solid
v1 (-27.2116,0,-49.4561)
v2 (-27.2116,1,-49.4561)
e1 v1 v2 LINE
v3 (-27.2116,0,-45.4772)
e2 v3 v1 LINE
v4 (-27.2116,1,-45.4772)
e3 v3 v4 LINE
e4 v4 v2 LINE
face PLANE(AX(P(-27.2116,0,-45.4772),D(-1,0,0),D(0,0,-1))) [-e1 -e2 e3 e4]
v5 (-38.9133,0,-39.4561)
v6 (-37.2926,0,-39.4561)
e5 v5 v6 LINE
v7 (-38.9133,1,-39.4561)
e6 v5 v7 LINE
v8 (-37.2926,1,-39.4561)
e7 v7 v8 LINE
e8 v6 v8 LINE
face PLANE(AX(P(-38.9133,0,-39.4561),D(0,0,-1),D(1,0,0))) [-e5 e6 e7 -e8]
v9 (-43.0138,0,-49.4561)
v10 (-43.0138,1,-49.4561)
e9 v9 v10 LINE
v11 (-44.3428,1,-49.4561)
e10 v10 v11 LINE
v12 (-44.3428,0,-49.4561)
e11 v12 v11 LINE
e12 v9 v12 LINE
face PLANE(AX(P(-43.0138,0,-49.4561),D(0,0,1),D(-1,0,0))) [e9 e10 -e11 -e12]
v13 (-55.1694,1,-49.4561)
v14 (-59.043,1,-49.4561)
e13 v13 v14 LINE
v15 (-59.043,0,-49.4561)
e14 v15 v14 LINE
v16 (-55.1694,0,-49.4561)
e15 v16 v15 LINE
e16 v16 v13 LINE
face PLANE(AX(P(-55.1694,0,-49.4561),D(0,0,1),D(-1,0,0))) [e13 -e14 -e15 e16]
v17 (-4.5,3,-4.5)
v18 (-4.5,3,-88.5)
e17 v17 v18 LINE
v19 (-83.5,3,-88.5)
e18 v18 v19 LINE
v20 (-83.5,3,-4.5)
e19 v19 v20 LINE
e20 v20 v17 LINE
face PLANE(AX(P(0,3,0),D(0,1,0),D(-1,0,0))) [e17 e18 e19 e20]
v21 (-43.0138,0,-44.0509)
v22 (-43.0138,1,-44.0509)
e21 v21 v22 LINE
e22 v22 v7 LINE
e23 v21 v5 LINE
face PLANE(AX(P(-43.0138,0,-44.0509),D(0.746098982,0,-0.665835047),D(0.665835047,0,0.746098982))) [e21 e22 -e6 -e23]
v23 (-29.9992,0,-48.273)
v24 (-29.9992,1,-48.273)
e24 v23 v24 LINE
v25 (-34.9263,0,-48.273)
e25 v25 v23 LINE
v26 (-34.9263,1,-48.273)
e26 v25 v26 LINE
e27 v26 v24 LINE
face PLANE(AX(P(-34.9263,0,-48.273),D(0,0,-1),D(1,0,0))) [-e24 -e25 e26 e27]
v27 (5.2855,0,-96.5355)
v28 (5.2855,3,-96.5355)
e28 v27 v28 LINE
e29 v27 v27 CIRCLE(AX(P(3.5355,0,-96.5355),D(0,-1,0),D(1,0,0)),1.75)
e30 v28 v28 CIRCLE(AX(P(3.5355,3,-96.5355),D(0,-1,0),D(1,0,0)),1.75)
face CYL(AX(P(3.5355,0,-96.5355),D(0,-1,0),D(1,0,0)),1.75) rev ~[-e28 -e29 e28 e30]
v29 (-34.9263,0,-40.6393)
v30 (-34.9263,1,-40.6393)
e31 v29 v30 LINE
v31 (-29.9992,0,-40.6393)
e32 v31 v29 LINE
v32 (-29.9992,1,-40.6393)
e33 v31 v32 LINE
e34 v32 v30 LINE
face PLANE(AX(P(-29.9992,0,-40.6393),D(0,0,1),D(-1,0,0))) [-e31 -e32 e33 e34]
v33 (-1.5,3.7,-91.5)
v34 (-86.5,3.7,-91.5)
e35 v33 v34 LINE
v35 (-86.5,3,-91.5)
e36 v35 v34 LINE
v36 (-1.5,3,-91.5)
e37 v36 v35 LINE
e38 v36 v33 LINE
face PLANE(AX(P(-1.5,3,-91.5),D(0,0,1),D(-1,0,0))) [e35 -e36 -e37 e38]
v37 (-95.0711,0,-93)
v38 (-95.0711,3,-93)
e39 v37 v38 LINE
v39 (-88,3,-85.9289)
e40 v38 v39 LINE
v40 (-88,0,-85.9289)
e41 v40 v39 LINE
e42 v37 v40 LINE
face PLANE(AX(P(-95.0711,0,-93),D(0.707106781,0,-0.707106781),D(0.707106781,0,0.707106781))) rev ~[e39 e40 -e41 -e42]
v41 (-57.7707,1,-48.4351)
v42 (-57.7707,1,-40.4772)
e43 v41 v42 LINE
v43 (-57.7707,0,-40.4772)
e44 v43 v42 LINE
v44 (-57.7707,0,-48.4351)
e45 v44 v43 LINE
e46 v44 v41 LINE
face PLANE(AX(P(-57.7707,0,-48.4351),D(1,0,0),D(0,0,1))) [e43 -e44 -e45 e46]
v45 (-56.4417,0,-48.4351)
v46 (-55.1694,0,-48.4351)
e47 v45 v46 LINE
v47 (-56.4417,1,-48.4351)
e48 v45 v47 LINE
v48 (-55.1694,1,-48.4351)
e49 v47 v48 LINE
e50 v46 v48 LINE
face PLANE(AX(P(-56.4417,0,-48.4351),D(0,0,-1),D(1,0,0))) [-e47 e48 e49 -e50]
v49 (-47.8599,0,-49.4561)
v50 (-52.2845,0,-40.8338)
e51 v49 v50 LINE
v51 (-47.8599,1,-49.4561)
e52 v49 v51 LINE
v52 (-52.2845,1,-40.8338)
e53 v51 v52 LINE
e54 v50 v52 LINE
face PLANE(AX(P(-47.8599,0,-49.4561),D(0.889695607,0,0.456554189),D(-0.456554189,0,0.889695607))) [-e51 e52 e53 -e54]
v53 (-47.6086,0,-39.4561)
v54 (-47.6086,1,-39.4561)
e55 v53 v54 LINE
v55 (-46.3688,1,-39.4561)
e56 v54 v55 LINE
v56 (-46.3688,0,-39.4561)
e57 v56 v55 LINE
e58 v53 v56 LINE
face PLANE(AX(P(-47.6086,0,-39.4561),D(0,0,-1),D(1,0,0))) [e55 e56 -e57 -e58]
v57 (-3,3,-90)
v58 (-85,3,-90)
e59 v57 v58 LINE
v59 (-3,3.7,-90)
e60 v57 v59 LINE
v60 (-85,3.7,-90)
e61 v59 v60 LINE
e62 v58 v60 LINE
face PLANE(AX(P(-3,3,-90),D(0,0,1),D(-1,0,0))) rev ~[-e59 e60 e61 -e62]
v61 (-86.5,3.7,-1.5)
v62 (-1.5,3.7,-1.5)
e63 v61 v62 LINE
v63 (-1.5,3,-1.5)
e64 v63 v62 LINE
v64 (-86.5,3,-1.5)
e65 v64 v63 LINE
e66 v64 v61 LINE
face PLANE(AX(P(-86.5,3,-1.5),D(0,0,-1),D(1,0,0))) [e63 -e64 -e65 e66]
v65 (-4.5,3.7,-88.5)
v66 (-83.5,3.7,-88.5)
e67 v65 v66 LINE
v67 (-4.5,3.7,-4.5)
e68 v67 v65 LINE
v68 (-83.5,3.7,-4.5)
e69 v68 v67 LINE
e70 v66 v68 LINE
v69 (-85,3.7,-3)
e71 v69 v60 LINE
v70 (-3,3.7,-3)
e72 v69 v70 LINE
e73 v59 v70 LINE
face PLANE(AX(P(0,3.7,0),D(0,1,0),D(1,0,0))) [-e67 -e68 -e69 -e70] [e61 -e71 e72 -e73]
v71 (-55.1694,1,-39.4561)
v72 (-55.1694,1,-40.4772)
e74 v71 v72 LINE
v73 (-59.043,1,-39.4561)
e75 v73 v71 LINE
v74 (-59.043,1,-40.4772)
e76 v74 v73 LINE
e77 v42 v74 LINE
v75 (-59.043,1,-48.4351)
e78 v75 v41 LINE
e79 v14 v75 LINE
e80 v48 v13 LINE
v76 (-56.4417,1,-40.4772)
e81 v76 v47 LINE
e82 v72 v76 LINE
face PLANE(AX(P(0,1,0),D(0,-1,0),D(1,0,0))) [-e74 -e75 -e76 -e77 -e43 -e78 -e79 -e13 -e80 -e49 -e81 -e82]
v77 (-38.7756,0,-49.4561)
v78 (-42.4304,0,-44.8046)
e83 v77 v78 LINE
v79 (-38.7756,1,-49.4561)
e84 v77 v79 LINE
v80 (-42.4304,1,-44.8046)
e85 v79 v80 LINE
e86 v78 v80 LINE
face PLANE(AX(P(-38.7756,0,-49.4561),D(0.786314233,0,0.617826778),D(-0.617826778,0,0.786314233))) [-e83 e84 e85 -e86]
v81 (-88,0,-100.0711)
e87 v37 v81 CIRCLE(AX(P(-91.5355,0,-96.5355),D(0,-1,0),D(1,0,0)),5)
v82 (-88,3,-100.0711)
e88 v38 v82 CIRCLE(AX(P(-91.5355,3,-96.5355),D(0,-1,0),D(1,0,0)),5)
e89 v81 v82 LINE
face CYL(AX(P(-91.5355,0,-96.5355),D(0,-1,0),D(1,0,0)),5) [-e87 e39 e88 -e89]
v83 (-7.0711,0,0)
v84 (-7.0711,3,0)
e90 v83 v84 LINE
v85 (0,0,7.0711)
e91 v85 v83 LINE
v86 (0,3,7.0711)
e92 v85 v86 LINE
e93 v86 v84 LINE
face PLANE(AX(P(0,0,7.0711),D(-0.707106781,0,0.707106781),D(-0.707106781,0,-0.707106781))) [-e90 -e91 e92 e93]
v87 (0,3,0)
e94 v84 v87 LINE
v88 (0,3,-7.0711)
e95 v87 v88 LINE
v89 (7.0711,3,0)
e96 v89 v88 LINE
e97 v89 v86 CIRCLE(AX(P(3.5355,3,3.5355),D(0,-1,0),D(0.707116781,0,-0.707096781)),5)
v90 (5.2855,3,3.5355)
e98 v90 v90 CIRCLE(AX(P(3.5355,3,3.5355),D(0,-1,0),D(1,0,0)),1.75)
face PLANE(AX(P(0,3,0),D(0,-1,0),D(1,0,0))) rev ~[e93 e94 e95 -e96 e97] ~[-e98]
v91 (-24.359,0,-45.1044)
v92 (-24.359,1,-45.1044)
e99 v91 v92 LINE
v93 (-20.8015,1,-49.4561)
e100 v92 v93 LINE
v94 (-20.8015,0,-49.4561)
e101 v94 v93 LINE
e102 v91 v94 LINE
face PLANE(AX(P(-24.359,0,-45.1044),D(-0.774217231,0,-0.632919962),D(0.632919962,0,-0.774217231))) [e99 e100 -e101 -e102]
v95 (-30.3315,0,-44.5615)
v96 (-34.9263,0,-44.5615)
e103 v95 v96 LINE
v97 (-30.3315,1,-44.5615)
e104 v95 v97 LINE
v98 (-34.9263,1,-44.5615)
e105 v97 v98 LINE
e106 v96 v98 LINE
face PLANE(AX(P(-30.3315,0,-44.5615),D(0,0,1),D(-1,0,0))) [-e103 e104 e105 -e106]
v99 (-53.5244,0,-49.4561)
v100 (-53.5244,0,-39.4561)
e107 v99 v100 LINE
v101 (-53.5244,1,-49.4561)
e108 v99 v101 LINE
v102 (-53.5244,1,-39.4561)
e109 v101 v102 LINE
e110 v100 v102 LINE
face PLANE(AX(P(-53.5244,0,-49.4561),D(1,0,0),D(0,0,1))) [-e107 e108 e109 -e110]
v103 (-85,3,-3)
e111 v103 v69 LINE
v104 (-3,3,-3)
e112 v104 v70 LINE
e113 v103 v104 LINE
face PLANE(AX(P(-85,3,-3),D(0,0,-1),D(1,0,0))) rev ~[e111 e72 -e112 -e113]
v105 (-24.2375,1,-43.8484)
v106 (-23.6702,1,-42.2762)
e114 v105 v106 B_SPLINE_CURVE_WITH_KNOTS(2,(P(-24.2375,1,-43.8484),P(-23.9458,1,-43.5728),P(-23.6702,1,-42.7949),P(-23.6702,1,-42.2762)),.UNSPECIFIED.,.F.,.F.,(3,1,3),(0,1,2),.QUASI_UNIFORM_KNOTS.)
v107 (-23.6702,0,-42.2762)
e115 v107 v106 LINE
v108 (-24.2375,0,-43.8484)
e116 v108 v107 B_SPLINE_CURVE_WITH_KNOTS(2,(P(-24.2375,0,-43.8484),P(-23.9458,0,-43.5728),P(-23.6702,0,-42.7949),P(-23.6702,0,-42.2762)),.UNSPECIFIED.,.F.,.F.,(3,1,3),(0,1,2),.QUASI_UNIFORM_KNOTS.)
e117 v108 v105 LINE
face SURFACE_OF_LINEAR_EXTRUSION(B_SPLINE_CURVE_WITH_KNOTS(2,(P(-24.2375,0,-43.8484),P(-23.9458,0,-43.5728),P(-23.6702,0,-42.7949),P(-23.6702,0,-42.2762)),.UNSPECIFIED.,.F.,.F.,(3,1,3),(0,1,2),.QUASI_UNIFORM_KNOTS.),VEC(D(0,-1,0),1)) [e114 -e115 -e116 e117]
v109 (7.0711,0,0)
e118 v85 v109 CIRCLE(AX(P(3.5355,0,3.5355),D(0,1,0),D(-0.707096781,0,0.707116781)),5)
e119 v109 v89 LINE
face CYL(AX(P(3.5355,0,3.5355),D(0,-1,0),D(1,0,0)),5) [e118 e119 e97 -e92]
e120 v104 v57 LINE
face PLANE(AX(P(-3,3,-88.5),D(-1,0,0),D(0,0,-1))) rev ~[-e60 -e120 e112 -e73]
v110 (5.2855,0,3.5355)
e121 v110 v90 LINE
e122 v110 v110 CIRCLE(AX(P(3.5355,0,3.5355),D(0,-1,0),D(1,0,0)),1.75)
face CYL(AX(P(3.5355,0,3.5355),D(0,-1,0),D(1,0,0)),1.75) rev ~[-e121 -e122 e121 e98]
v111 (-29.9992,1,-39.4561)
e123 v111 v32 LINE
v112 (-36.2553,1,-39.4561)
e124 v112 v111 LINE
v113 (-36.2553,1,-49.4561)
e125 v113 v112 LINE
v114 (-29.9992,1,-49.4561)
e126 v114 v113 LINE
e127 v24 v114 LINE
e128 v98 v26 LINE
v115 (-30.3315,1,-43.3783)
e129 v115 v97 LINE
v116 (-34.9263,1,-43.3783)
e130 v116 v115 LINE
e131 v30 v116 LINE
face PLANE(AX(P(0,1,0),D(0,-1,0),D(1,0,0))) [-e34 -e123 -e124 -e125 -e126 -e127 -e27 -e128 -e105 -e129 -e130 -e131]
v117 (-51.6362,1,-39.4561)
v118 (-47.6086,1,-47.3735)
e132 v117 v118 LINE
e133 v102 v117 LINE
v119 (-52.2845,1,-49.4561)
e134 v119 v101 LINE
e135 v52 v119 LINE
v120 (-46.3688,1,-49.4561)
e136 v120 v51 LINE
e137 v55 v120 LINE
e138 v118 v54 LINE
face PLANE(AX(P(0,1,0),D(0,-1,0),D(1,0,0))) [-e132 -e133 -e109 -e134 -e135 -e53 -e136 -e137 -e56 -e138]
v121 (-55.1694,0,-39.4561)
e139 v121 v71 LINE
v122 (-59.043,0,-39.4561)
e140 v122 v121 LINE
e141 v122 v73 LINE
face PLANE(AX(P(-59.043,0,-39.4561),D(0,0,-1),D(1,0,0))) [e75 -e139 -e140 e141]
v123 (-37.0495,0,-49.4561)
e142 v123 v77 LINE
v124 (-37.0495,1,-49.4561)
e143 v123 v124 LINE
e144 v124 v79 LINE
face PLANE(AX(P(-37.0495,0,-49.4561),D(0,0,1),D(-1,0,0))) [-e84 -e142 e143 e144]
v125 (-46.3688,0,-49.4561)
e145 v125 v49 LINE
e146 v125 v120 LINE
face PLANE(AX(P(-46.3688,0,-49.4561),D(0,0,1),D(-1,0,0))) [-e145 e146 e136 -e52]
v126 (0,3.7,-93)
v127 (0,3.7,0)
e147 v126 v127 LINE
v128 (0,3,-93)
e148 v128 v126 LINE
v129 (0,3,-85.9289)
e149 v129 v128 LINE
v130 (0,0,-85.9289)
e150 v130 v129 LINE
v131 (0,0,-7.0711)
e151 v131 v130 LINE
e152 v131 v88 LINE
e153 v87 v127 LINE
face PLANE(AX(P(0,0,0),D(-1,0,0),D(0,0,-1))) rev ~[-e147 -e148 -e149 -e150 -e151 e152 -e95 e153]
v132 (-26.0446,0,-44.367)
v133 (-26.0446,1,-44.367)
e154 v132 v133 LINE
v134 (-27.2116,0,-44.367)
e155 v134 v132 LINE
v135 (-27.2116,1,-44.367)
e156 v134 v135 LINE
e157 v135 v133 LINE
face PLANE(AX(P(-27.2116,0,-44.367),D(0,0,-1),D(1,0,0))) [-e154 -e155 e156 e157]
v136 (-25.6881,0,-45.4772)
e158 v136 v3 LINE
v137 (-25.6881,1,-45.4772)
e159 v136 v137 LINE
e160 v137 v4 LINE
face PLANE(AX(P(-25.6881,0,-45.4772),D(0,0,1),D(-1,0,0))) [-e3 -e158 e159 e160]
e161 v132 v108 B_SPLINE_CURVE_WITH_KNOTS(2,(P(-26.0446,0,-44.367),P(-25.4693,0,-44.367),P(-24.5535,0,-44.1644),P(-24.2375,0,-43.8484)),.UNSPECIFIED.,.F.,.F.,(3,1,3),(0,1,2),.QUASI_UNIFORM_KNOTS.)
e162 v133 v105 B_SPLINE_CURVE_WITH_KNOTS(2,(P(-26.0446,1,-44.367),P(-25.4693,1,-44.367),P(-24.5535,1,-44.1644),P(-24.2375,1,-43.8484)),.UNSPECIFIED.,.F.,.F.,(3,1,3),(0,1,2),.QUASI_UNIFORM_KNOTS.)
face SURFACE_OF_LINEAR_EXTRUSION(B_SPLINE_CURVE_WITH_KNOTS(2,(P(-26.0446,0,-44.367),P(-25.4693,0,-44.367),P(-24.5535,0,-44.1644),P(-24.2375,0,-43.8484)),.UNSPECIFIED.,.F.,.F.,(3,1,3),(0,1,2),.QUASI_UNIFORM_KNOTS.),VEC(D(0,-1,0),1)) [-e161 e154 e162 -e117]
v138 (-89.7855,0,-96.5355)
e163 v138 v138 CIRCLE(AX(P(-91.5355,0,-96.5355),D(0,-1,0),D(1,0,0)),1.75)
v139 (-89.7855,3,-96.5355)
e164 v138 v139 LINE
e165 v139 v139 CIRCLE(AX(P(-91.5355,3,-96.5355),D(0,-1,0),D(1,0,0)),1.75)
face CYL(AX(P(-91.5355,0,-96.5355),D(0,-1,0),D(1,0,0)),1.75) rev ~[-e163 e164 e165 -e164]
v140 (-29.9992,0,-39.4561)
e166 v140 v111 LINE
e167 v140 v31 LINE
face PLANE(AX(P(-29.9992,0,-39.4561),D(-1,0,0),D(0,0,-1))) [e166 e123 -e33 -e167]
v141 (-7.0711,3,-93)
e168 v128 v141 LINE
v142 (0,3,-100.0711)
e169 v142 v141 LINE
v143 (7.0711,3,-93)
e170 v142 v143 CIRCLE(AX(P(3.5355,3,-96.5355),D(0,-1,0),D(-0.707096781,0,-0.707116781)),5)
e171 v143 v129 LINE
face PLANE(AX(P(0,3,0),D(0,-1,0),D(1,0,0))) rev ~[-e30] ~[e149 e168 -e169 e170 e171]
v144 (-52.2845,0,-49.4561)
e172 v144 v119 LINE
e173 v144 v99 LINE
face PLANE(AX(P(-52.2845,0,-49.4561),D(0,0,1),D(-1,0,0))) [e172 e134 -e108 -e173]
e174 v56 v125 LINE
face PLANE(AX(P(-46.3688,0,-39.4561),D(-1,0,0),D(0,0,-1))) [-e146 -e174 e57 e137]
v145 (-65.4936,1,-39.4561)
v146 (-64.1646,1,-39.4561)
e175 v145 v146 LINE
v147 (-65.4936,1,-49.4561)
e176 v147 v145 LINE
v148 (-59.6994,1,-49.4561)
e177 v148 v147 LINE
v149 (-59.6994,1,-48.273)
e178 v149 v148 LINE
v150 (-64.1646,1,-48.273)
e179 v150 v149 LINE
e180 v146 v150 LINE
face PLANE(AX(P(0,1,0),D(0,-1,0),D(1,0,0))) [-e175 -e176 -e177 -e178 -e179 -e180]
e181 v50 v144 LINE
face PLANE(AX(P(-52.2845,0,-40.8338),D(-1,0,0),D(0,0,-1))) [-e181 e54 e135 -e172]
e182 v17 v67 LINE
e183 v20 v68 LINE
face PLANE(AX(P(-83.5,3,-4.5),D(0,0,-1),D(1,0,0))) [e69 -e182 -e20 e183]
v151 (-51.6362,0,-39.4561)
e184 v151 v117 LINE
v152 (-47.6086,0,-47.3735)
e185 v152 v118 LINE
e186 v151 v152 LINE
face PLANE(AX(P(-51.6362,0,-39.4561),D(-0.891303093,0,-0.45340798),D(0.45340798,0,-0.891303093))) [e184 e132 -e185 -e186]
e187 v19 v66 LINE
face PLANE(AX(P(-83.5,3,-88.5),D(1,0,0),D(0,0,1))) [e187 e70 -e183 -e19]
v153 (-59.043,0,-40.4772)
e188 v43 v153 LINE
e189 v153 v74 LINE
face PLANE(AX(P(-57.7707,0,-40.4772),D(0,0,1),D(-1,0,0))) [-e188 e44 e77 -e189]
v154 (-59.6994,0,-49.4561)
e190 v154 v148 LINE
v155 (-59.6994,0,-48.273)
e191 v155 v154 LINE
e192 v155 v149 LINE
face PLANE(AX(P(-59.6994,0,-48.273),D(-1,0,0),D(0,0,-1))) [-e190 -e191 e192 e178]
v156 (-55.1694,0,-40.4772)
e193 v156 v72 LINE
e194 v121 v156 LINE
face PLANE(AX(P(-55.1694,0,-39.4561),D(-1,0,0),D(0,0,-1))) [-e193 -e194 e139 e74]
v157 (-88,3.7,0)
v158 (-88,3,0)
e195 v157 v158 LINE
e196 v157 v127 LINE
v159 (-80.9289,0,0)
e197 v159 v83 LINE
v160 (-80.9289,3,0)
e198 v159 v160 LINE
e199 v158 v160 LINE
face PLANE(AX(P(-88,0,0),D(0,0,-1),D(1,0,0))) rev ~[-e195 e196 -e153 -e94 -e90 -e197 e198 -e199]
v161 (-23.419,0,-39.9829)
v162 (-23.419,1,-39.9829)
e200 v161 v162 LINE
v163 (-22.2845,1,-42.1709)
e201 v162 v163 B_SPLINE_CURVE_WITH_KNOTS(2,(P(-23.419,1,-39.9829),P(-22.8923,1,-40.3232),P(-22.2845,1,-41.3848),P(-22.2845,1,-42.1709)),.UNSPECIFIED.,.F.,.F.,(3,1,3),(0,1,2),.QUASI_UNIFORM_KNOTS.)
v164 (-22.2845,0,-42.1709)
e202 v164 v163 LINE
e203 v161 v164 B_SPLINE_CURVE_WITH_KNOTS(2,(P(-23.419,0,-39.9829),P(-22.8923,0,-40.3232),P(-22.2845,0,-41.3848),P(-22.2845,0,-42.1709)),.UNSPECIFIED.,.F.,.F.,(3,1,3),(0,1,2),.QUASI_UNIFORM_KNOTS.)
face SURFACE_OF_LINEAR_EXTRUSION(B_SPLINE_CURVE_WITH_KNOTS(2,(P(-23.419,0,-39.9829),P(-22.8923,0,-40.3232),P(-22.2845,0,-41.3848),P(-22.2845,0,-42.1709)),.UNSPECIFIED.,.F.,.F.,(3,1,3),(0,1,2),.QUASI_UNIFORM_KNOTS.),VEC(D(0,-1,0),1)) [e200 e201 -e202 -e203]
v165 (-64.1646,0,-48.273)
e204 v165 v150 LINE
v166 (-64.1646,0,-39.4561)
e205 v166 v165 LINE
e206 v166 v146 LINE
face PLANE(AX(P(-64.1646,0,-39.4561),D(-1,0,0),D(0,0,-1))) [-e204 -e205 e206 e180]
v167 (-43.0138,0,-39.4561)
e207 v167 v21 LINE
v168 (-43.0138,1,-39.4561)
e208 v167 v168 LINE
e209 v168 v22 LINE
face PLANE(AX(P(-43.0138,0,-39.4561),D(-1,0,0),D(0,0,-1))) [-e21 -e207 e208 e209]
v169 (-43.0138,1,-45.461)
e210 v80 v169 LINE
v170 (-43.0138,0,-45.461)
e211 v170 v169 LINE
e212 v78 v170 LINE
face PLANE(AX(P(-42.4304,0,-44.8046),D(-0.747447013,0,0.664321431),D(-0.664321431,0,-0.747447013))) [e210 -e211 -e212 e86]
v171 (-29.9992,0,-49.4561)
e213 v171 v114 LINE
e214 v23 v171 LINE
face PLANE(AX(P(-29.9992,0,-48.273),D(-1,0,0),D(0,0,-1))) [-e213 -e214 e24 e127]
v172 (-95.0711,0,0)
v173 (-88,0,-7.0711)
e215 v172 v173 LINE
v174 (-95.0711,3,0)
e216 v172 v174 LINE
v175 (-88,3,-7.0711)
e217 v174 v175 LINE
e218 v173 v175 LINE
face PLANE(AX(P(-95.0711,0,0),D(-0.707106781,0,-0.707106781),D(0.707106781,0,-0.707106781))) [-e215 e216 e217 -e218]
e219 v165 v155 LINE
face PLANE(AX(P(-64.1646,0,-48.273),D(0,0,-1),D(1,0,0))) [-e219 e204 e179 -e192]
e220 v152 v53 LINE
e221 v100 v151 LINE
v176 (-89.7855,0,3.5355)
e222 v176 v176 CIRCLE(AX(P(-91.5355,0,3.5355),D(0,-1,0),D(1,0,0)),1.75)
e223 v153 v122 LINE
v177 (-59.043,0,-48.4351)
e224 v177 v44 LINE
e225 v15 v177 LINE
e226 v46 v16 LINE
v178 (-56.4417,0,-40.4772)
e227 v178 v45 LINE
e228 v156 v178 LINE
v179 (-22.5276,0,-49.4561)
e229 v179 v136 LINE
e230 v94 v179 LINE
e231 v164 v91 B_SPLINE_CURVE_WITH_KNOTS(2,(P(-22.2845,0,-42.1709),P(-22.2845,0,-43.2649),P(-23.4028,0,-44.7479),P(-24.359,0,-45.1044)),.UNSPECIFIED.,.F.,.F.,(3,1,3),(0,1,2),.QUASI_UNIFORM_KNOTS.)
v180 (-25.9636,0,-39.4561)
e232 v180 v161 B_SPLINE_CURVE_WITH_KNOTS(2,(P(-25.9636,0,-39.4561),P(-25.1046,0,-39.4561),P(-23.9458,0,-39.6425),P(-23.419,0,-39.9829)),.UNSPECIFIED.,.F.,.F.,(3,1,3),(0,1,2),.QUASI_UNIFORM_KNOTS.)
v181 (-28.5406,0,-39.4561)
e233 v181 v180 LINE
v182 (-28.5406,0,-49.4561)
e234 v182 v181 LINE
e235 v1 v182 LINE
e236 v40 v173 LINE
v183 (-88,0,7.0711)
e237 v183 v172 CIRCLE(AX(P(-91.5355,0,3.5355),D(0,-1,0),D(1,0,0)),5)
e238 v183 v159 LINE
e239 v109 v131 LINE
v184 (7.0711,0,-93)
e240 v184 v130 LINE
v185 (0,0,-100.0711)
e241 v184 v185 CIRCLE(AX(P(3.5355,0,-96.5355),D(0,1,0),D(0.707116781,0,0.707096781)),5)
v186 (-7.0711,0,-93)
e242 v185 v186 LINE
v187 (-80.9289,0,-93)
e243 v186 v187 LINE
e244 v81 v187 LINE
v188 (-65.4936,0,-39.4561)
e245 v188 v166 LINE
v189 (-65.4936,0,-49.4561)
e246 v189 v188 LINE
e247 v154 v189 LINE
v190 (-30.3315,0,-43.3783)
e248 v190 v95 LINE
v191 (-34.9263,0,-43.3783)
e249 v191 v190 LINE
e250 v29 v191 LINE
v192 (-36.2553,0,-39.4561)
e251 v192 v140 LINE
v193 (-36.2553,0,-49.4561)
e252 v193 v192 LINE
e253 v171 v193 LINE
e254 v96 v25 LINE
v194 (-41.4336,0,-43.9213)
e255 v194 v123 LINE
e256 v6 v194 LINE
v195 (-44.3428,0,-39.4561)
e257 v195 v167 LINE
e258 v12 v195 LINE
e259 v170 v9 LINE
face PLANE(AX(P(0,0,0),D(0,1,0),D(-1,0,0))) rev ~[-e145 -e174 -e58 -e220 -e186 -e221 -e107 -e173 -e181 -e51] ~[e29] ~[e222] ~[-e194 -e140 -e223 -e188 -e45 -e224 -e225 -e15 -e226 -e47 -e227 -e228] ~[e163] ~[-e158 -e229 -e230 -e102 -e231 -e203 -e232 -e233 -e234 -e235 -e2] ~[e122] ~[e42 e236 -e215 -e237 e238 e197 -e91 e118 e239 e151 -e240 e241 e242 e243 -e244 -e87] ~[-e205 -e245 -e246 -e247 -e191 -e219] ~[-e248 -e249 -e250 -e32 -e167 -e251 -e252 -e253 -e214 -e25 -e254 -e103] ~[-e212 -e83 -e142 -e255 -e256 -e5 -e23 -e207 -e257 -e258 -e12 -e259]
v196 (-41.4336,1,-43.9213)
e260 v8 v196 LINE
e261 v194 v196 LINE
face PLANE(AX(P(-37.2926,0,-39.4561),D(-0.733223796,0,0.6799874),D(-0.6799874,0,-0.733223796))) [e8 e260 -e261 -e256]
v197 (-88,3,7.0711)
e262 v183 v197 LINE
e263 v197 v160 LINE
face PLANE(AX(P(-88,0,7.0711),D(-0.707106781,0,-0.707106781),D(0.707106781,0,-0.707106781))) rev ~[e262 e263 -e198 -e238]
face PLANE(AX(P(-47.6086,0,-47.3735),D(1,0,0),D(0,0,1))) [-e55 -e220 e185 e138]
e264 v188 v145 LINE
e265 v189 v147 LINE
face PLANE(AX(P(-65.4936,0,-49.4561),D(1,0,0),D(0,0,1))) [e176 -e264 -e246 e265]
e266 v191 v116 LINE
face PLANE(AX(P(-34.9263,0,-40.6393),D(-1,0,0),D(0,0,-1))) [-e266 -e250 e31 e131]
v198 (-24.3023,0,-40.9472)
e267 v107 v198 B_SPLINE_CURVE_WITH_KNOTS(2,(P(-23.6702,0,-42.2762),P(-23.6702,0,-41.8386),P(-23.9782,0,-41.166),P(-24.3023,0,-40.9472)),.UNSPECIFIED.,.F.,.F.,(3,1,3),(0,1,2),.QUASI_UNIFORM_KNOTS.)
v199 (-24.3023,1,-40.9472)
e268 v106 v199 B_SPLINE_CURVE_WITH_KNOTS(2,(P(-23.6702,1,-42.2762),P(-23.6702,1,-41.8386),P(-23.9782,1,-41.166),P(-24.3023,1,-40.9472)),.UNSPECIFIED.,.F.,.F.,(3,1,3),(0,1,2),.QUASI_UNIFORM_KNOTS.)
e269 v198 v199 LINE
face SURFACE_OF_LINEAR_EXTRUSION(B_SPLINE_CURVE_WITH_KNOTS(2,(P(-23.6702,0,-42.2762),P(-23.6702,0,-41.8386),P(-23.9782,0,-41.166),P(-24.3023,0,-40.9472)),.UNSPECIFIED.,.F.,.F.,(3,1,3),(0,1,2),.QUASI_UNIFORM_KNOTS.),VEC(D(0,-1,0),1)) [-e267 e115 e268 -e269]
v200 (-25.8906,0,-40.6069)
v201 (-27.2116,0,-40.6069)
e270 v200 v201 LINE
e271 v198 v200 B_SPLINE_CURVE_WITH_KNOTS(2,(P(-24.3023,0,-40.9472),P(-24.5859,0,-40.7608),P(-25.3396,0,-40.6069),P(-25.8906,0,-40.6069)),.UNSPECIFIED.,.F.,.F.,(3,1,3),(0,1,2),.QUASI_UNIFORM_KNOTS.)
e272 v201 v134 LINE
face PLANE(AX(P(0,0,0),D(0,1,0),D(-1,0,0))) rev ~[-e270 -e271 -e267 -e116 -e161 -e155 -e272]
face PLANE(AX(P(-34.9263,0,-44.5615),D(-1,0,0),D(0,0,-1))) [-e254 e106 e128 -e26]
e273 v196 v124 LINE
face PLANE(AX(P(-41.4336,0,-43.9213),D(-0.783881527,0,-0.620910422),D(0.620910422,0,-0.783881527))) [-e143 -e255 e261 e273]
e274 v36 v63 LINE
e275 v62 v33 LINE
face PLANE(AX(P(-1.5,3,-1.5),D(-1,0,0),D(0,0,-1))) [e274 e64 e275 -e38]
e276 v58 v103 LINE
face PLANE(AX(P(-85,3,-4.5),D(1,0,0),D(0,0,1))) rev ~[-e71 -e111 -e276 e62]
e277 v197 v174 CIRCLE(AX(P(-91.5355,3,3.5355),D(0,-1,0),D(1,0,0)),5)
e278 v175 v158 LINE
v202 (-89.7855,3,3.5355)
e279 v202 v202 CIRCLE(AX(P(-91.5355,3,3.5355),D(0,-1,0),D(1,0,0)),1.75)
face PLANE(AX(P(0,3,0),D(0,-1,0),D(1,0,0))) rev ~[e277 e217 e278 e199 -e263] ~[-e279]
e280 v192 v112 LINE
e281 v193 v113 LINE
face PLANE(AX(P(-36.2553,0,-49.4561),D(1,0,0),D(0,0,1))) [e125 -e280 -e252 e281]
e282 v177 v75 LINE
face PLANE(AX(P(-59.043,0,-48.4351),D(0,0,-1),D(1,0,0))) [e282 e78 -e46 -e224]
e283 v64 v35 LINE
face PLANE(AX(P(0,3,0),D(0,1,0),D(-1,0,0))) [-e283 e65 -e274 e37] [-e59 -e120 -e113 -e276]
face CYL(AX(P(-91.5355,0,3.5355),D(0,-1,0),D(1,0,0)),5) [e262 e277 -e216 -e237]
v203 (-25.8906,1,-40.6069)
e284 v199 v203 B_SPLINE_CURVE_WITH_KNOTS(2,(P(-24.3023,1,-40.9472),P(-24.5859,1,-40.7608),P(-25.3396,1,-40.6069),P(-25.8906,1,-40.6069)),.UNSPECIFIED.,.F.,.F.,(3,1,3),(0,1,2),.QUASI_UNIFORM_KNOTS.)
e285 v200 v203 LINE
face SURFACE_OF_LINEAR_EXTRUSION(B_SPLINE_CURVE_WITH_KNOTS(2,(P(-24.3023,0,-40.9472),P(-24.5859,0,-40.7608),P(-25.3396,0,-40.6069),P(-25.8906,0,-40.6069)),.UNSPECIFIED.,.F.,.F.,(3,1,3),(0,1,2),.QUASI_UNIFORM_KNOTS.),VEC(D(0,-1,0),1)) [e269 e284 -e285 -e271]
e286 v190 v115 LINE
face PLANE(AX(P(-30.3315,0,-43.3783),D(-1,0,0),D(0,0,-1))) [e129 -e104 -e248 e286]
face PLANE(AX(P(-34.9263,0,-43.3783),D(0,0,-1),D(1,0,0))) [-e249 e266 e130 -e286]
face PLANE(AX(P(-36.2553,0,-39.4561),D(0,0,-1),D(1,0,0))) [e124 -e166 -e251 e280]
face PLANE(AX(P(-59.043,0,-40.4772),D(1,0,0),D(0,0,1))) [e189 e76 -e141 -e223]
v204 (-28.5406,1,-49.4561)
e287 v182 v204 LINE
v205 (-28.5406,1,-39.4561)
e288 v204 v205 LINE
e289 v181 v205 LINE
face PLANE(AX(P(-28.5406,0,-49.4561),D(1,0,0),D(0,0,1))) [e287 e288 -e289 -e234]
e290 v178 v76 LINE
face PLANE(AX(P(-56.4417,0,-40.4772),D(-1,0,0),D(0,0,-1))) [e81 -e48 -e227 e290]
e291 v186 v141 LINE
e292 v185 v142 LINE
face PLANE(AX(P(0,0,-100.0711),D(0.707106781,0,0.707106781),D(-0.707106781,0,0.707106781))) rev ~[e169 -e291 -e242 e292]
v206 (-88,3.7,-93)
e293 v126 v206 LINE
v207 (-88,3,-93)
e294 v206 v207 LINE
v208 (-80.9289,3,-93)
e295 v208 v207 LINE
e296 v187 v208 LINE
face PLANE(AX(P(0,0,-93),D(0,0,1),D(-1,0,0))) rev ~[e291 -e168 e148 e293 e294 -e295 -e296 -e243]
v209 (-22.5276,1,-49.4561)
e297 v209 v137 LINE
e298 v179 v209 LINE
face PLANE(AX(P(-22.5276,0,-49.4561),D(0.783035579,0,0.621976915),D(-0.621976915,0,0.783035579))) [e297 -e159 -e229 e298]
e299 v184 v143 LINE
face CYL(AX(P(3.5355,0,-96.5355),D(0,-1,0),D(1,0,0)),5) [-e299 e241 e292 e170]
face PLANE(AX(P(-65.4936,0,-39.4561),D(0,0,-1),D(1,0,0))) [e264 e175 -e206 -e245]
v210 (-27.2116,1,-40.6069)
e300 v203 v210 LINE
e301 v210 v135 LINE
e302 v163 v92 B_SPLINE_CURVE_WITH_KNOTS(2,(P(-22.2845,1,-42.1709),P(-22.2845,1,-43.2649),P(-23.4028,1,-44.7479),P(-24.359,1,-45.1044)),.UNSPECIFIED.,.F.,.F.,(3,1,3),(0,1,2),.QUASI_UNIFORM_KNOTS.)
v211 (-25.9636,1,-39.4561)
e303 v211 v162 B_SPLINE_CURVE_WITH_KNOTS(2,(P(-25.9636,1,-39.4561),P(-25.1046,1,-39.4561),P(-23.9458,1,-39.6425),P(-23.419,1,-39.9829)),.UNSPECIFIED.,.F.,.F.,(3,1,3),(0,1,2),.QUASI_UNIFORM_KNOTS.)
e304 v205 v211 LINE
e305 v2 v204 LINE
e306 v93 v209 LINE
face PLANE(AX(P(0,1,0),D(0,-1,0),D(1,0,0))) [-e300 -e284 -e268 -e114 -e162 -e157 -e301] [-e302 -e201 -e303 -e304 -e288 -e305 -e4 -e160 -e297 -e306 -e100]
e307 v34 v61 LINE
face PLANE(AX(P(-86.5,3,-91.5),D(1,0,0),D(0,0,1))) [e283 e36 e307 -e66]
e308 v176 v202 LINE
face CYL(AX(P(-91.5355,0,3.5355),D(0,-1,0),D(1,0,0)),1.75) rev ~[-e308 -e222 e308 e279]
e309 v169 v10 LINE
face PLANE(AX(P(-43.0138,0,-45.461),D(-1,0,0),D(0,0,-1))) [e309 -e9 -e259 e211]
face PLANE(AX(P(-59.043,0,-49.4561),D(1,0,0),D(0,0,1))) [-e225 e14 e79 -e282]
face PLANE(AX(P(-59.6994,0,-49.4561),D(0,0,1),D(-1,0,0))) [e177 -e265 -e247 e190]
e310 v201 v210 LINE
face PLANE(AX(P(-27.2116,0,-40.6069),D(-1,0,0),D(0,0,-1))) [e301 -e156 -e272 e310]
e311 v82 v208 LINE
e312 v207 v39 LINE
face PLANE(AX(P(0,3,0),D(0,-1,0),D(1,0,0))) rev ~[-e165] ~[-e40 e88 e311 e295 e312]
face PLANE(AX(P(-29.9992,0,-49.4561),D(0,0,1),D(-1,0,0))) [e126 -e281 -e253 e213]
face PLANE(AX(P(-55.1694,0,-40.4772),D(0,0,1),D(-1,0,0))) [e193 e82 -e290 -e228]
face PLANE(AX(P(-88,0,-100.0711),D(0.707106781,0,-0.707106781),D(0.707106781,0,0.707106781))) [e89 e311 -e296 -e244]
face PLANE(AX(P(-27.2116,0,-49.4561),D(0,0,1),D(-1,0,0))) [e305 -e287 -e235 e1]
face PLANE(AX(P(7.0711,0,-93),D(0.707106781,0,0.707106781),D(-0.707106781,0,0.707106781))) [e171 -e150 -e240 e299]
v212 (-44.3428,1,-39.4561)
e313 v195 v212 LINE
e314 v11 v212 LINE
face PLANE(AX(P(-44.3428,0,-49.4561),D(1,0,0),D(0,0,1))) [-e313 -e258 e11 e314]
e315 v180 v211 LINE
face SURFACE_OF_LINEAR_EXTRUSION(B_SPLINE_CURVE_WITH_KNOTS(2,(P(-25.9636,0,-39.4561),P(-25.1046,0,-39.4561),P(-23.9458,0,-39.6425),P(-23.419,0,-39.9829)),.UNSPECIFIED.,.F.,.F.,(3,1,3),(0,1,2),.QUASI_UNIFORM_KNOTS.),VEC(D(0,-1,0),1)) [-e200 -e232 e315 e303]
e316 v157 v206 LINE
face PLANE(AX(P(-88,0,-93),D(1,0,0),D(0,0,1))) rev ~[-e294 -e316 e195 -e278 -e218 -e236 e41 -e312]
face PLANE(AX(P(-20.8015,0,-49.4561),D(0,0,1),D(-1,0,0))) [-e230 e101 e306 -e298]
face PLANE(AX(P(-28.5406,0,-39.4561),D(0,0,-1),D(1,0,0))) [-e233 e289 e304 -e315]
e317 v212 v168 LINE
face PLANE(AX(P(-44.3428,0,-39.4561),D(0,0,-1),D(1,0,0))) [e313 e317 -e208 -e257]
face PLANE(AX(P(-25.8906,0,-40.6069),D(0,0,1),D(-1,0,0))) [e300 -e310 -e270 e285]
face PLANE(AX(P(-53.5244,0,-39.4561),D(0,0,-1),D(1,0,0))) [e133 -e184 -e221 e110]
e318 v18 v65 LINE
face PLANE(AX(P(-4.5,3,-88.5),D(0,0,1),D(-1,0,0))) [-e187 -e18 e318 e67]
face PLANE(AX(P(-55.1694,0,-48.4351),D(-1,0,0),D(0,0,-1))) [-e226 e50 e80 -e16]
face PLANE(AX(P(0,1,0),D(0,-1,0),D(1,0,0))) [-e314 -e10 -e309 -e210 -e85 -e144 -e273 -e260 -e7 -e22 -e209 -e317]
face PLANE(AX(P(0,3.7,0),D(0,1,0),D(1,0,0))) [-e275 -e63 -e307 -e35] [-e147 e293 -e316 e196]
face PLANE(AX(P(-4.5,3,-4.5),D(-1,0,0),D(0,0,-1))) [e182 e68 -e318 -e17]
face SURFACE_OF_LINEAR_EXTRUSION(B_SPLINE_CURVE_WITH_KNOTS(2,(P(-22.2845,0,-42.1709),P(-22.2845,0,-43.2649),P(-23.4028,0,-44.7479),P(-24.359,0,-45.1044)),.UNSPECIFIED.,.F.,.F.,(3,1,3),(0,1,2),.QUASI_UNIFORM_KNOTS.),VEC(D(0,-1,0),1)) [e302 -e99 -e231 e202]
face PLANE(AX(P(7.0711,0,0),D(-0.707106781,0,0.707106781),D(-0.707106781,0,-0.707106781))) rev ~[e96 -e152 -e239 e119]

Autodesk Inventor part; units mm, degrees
ref_plane "YZ Plane" through (0, 0, 0) normal (1, 0, 0) x (0, 1, 0)
ref_plane "XZ Plane" through (0, 0, 0) normal (0, 1, 0) x (-1, 0, 0)
ref_plane "XY Plane" through (0, 0, 0) normal (0, 0, 1) x (1, 0, 0)
sketch "Sketch1" plane through (0, 0, 0) normal (0, 1, 0) x (-1, 0, 0)
  line L0 (0, 0) -> (0, -93)
  line L1 (0, -93) -> (88, -93)
  line L2 (88, -93) -> (88, 0)
  line L3 (88, 0) -> (0, 0)
  dimension "d0" = 93
  dimension "d1" = 88
extrude "Extrusion1" add sketch "Sketch1" along normal blind 3
sketch "Sketch2" plane through (0, 3, 0) normal (0, 1, 0) x (1, 0, 0)
  line L0 (-88, 93) -> (-88, 0) projected
  line L1 (-88, 0) -> (0, 0)
  line L2 (0, 0) -> (0, 93)
  line L3 (0, 93) -> (-88, 93)
  line L4 (-88, 93) -> (-88, 0)
  line L5 (-88, 0) -> (-88, 1.5)
  line L6 (0, 93) -> (-88, 93) projected
  line L7 (0, 93) -> (0, 91.5)
  line L8 (0, 0) -> (0, 93) projected
  line L9 (-1.5, 91.5) -> (-86.5, 91.5)
  line L10 (-86.5, 91.5) -> (-86.5, 1.5)
  line L11 (-86.5, 1.5) -> (-1.5, 1.5)
  line L12 (-1.5, 1.5) -> (-1.5, 91.5)
  line L13 (-86.5, 1.5) -> (-86.5, 3)
  line L14 (-1.5, 91.5) -> (-1.5, 90)
  line L15 (-85, 3) -> (-3, 3)
  line L16 (-3, 3) -> (-3, 90)
  line L17 (-3, 90) -> (-85, 90)
  line L18 (-85, 90) -> (-85, 3)
  line L19 (-85, 3) -> (-85, 4.5)
  line L20 (-3, 90) -> (-3, 88.5)
  line L21 (-83.5, 4.5) -> (-4.5, 4.5)
  line L22 (-4.5, 4.5) -> (-4.5, 88.5)
  line L23 (-4.5, 88.5) -> (-83.5, 88.5)
  line L24 (-83.5, 88.5) -> (-83.5, 4.5)
  dimension "d4" = 1.5
  dimension "d5" = 1.5
  dimension "d8" = 1.5
  dimension "d11" = 1.5
  dimension "d12" = 1.5
  dimension "d13" = 1.5
  dimension "d15" = 1.5
extrude "Extrusion2" add sketch "Sketch2" along normal blind 0.7
sketch "Sketch3" plane through (0, 0, 0) normal (0, -1, 0) x (1, 0, 0)
  line L0 (-88, 0) -> (-83, 0) construction
  circle A0 centre (-91.5355, 3.5355) radius 5
  line L1 (-88, 0) -> (0, 0) projected
  line L2 (0, 0) -> (5, 0) construction
  circle A1 centre (3.5355, 3.5355) radius 5
  line L3 (-88, -93) -> (-83, -93) construction
  circle A2 centre (-91.5355, -96.5355) radius 5
  line L4 (0, -93) -> (5, -93) construction
  circle A3 centre (3.5355, -96.5355) radius 5
  line L5 (-86.5, -1.5) -> (-1.5, -1.5) projected
  line L6 (0, -93) -> (-88, -93) projected
  line L7 (0, 0) -> (0, -93) projected
  line L8 (-88, 0) -> (0, 0) projected
  line L9 (-88, -93) -> (-88, 0) projected
  line L10 (-91.5355, 3.5355) -> (-88, 7.0711)
  line L11 (-88, 7.0711) -> (-95.0711, 0)
  line L12 (-95.0711, 0) -> (-88, -7.0711)
  line L13 (-88, -93) -> (-88, 0) projected
  line L14 (-88, 7.0711) -> (-80.9289, 0)
  line L15 (3.5355, 3.5355) -> (7.0711, 7.0711)
  line L16 (7.0711, 7.0711) -> (0, 0)
  line L17 (3.5355, 3.5355) -> (0, 7.0711)
  line L18 (0, 7.0711) -> (-7.0711, 0)
  line L19 (3.5355, 3.5355) -> (7.0711, 0)
  line L20 (7.0711, 0) -> (0, -7.0711)
  line L21 (0, 0) -> (0, -93) projected
  line L22 (-91.5355, -96.5355) -> (-95.0711, -93)
  line L23 (-95.0711, -93) -> (-88, -85.9289)
  line L24 (-91.5355, -96.5355) -> (-88, -100.0711)
  line L25 (-88, -100.0711) -> (-80.9289, -93)
  line L26 (0, -93) -> (-88, -93) projected
  line L27 (3.5355, -96.5355) -> (7.0711, -93)
  line L28 (7.0711, -93) -> (0, -85.9289)
  line L29 (3.5355, -96.5355) -> (0, -100.0711)
  line L30 (0, -100.0711) -> (-7.0711, -93)
  point P0 (-7.0711, -93)
extrude "Extrusion3" add sketch "Sketch3" against normal blind 3 contours A0 L11 L10 | A0 L14 L1 | L10 L11 A0 | L9 L12 A0 | L18 A1 L1 | L9 A2 L23 | L16 L19 A1 | A1 L20 L7 | A1 L17 L16 | A1 L15 L17 | L6 L25 A2 | A2 L24 L22 | L22 L24 A2 | L19 L15 A1 | L28 A3 L7 | L6 A3 L30 | A3 L27 L29 | A3 L29 L27
sketch "Sketch4" plane through (0, 0, 0) normal (0, -1, 0) x (1, 0, 0)
  line L0 (0, -7.0711) -> (0, -85.9289) projected
  line L1 (0, -7.0711) -> (7.0711, 0) projected
  arc A0 (7.0711, 0) -> (0, 7.0711) centre (3.5355, 3.5355) ccw projected
  line L2 (0, 7.0711) -> (-7.0711, 0) projected
  line L3 (-80.9289, 0) -> (-7.0711, 0) projected
  line L4 (-80.9289, 0) -> (-88, 7.0711) projected
  arc A1 (-88, 7.0711) -> (-95.0711, 0) centre (-91.5355, 3.5355) ccw projected
  line L5 (-95.0711, 0) -> (-88, -7.0711) projected
  line L6 (-88, -85.9289) -> (-88, -7.0711) projected
  line L7 (-88, -85.9289) -> (-95.0711, -93) projected
  arc A2 (-95.0711, -93) -> (-88, -100.0711) centre (-91.5355, -96.5355) ccw projected
  line L8 (-88, -100.0711) -> (-80.9289, -93) projected
  line L9 (-7.0711, -93) -> (-80.9289, -93) projected
  line L10 (-7.0711, -93) -> (0, -100.0711) projected
  arc A3 (0, -100.0711) -> (7.0711, -93) centre (3.5355, -96.5355) ccw projected
  line L11 (7.0711, -93) -> (0, -85.9289) projected
  arc A4 (-88, 7.0711) -> (-95.0711, 0) centre (-91.5355, 3.5355) ccw projected
  circle A5 centre (-91.5355, 3.5355) radius 1.75
  circle A6 centre (3.5355, 3.5355) radius 1.75
  circle A7 centre (-91.5355, -96.5355) radius 1.75
  circle A8 centre (3.5355, -96.5355) radius 1.75
  point P0 (0, 0)
  dimension "d28" = 3.5
  dimension "d29" = 3.5
  dimension "d30" = 3.5
  dimension "d31" = 3.5
extrude "Extrusion4" cut sketch "Sketch4" against normal blind 3 contours A5 | A6 | A7 | A8
sketch "Sketch5" plane through (0, 0, 0) normal (0, -1, 0) x (1, 0, 0)
  line L0 (-66.5065, -39.4561) -> (-11.1351, -39.4561) construction
  line L1 (-11.1351, -39.4561) -> (-11.1351, -52.4445) construction
  line L2 (-11.1351, -52.4445) -> (-66.5065, -52.4445) construction
  line L3 (-66.5065, -52.4445) -> (-66.5065, -39.4561) construction
  line L4 (-59.6994, -49.4561) -> (-65.4936, -49.4561)
  line L5 (-65.4936, -49.4561) -> (-65.4936, -39.4561)
  line L6 (-65.4936, -39.4561) -> (-64.1646, -39.4561)
  line L7 (-64.1646, -39.4561) -> (-64.1646, -48.273)
  line L8 (-64.1646, -48.273) -> (-59.6994, -48.273)
  line L9 (-59.6994, -48.273) -> (-59.6994, -49.4561)
  line L10 (-55.1694, -49.4561) -> (-59.043, -49.4561)
  line L11 (-59.043, -49.4561) -> (-59.043, -48.4351)
  line L12 (-59.043, -48.4351) -> (-57.7707, -48.4351)
  line L13 (-57.7707, -48.4351) -> (-57.7707, -40.4772)
  line L14 (-57.7707, -40.4772) -> (-59.043, -40.4772)
  line L15 (-59.043, -40.4772) -> (-59.043, -39.4561)
  line L16 (-59.043, -39.4561) -> (-55.1694, -39.4561)
  line L17 (-55.1694, -39.4561) -> (-55.1694, -40.4772)
  line L18 (-55.1694, -40.4772) -> (-56.4417, -40.4772)
  line L19 (-56.4417, -40.4772) -> (-56.4417, -48.4351)
  line L20 (-56.4417, -48.4351) -> (-55.1694, -48.4351)
  line L21 (-55.1694, -48.4351) -> (-55.1694, -49.4561)
  line L22 (-46.3688, -49.4561) -> (-47.8599, -49.4561)
  line L23 (-47.8599, -49.4561) -> (-52.2845, -40.8338)
  line L24 (-52.2845, -40.8338) -> (-52.2845, -49.4561)
  line L25 (-52.2845, -49.4561) -> (-53.5244, -49.4561)
  line L26 (-53.5244, -49.4561) -> (-53.5244, -39.4561)
  line L27 (-53.5244, -39.4561) -> (-51.6362, -39.4561)
  line L28 (-51.6362, -39.4561) -> (-47.6086, -47.3735)
  line L29 (-47.6086, -47.3735) -> (-47.6086, -39.4561)
  line L30 (-47.6086, -39.4561) -> (-46.3688, -39.4561)
  line L31 (-46.3688, -39.4561) -> (-46.3688, -49.4561)
  line L32 (-37.0495, -49.4561) -> (-38.7756, -49.4561)
  line L33 (-38.7756, -49.4561) -> (-42.4304, -44.8046)
  line L34 (-42.4304, -44.8046) -> (-43.0138, -45.461)
  line L35 (-43.0138, -45.461) -> (-43.0138, -49.4561)
  line L36 (-43.0138, -49.4561) -> (-44.3428, -49.4561)
  line L37 (-44.3428, -49.4561) -> (-44.3428, -39.4561)
  line L38 (-44.3428, -39.4561) -> (-43.0138, -39.4561)
  line L39 (-43.0138, -39.4561) -> (-43.0138, -44.0509)
  line L40 (-43.0138, -44.0509) -> (-38.9133, -39.4561)
  line L41 (-38.9133, -39.4561) -> (-37.2926, -39.4561)
  line L42 (-37.2926, -39.4561) -> (-41.4336, -43.9213)
  line L43 (-41.4336, -43.9213) -> (-37.0495, -49.4561)
  line L44 (-36.2553, -49.4561) -> (-36.2553, -39.4561)
  line L45 (-36.2553, -39.4561) -> (-29.9992, -39.4561)
  line L46 (-29.9992, -39.4561) -> (-29.9992, -40.6393)
  line L47 (-29.9992, -40.6393) -> (-34.9263, -40.6393)
  line L48 (-34.9263, -40.6393) -> (-34.9263, -43.3783)
  line L49 (-34.9263, -43.3783) -> (-30.3315, -43.3783)
  line L50 (-30.3315, -43.3783) -> (-30.3315, -44.5615)
  line L51 (-30.3315, -44.5615) -> (-34.9263, -44.5615)
  line L52 (-34.9263, -44.5615) -> (-34.9263, -48.273)
  line L53 (-34.9263, -48.273) -> (-29.9992, -48.273)
  line L54 (-29.9992, -48.273) -> (-29.9992, -49.4561)
  line L55 (-29.9992, -49.4561) -> (-36.2553, -49.4561)
  line L56 (-20.8015, -49.4561) -> (-22.5276, -49.4561)
  line L57 (-22.5276, -49.4561) -> (-25.6881, -45.4772)
  line L58 (-25.6881, -45.4772) -> (-27.2116, -45.4772)
  line L59 (-27.2116, -45.4772) -> (-27.2116, -49.4561)
  line L60 (-27.2116, -49.4561) -> (-28.5406, -49.4561)
  line L61 (-28.5406, -49.4561) -> (-28.5406, -39.4561)
  line L62 (-28.5406, -39.4561) -> (-25.9636, -39.4561)
  spline S0 degree 2 poles (-25.9636, -39.4561) (-25.1046, -39.4561) (-23.9458, -39.6425) (-23.419, -39.9829) knots 0 0 0 1 2 2 2
  spline S1 degree 2 poles (-23.419, -39.9829) (-22.8923, -40.3232) (-22.2845, -41.3848) (-22.2845, -42.1709) knots 0 0 0 1 2 2 2
  spline S2 degree 2 poles (-22.2845, -42.1709) (-22.2845, -43.2649) (-23.4028, -44.7479) (-24.359, -45.1044) knots 0 0 0 1 2 2 2
  line L63 (-24.359, -45.1044) -> (-20.8015, -49.4561)
  spline S3 degree 2 poles (-23.6702, -42.2762) (-23.6702, -41.8386) (-23.9782, -41.166) (-24.3023, -40.9472) knots 0 0 0 1 2 2 2
  spline S4 degree 2 poles (-24.3023, -40.9472) (-24.5859, -40.7608) (-25.3396, -40.6069) (-25.8906, -40.6069) knots 0 0 0 1 2 2 2
  line L64 (-25.8906, -40.6069) -> (-27.2116, -40.6069)
  line L65 (-27.2116, -40.6069) -> (-27.2116, -44.367)
  line L66 (-27.2116, -44.367) -> (-26.0446, -44.367)
  spline S5 degree 2 poles (-26.0446, -44.367) (-25.4693, -44.367) (-24.5535, -44.1644) (-24.2375, -43.8484) knots 0 0 0 1 2 2 2
  spline S6 degree 2 poles (-24.2375, -43.8484) (-23.9458, -43.5728) (-23.6702, -42.7949) (-23.6702, -42.2762) knots 0 0 0 1 2 2 2
  point P0 (0, 0)
extrude "Extrusion5" cut sketch "Sketch5" against normal blind 1
properties part number "tapa" material "Steel, Mild, Welded"
